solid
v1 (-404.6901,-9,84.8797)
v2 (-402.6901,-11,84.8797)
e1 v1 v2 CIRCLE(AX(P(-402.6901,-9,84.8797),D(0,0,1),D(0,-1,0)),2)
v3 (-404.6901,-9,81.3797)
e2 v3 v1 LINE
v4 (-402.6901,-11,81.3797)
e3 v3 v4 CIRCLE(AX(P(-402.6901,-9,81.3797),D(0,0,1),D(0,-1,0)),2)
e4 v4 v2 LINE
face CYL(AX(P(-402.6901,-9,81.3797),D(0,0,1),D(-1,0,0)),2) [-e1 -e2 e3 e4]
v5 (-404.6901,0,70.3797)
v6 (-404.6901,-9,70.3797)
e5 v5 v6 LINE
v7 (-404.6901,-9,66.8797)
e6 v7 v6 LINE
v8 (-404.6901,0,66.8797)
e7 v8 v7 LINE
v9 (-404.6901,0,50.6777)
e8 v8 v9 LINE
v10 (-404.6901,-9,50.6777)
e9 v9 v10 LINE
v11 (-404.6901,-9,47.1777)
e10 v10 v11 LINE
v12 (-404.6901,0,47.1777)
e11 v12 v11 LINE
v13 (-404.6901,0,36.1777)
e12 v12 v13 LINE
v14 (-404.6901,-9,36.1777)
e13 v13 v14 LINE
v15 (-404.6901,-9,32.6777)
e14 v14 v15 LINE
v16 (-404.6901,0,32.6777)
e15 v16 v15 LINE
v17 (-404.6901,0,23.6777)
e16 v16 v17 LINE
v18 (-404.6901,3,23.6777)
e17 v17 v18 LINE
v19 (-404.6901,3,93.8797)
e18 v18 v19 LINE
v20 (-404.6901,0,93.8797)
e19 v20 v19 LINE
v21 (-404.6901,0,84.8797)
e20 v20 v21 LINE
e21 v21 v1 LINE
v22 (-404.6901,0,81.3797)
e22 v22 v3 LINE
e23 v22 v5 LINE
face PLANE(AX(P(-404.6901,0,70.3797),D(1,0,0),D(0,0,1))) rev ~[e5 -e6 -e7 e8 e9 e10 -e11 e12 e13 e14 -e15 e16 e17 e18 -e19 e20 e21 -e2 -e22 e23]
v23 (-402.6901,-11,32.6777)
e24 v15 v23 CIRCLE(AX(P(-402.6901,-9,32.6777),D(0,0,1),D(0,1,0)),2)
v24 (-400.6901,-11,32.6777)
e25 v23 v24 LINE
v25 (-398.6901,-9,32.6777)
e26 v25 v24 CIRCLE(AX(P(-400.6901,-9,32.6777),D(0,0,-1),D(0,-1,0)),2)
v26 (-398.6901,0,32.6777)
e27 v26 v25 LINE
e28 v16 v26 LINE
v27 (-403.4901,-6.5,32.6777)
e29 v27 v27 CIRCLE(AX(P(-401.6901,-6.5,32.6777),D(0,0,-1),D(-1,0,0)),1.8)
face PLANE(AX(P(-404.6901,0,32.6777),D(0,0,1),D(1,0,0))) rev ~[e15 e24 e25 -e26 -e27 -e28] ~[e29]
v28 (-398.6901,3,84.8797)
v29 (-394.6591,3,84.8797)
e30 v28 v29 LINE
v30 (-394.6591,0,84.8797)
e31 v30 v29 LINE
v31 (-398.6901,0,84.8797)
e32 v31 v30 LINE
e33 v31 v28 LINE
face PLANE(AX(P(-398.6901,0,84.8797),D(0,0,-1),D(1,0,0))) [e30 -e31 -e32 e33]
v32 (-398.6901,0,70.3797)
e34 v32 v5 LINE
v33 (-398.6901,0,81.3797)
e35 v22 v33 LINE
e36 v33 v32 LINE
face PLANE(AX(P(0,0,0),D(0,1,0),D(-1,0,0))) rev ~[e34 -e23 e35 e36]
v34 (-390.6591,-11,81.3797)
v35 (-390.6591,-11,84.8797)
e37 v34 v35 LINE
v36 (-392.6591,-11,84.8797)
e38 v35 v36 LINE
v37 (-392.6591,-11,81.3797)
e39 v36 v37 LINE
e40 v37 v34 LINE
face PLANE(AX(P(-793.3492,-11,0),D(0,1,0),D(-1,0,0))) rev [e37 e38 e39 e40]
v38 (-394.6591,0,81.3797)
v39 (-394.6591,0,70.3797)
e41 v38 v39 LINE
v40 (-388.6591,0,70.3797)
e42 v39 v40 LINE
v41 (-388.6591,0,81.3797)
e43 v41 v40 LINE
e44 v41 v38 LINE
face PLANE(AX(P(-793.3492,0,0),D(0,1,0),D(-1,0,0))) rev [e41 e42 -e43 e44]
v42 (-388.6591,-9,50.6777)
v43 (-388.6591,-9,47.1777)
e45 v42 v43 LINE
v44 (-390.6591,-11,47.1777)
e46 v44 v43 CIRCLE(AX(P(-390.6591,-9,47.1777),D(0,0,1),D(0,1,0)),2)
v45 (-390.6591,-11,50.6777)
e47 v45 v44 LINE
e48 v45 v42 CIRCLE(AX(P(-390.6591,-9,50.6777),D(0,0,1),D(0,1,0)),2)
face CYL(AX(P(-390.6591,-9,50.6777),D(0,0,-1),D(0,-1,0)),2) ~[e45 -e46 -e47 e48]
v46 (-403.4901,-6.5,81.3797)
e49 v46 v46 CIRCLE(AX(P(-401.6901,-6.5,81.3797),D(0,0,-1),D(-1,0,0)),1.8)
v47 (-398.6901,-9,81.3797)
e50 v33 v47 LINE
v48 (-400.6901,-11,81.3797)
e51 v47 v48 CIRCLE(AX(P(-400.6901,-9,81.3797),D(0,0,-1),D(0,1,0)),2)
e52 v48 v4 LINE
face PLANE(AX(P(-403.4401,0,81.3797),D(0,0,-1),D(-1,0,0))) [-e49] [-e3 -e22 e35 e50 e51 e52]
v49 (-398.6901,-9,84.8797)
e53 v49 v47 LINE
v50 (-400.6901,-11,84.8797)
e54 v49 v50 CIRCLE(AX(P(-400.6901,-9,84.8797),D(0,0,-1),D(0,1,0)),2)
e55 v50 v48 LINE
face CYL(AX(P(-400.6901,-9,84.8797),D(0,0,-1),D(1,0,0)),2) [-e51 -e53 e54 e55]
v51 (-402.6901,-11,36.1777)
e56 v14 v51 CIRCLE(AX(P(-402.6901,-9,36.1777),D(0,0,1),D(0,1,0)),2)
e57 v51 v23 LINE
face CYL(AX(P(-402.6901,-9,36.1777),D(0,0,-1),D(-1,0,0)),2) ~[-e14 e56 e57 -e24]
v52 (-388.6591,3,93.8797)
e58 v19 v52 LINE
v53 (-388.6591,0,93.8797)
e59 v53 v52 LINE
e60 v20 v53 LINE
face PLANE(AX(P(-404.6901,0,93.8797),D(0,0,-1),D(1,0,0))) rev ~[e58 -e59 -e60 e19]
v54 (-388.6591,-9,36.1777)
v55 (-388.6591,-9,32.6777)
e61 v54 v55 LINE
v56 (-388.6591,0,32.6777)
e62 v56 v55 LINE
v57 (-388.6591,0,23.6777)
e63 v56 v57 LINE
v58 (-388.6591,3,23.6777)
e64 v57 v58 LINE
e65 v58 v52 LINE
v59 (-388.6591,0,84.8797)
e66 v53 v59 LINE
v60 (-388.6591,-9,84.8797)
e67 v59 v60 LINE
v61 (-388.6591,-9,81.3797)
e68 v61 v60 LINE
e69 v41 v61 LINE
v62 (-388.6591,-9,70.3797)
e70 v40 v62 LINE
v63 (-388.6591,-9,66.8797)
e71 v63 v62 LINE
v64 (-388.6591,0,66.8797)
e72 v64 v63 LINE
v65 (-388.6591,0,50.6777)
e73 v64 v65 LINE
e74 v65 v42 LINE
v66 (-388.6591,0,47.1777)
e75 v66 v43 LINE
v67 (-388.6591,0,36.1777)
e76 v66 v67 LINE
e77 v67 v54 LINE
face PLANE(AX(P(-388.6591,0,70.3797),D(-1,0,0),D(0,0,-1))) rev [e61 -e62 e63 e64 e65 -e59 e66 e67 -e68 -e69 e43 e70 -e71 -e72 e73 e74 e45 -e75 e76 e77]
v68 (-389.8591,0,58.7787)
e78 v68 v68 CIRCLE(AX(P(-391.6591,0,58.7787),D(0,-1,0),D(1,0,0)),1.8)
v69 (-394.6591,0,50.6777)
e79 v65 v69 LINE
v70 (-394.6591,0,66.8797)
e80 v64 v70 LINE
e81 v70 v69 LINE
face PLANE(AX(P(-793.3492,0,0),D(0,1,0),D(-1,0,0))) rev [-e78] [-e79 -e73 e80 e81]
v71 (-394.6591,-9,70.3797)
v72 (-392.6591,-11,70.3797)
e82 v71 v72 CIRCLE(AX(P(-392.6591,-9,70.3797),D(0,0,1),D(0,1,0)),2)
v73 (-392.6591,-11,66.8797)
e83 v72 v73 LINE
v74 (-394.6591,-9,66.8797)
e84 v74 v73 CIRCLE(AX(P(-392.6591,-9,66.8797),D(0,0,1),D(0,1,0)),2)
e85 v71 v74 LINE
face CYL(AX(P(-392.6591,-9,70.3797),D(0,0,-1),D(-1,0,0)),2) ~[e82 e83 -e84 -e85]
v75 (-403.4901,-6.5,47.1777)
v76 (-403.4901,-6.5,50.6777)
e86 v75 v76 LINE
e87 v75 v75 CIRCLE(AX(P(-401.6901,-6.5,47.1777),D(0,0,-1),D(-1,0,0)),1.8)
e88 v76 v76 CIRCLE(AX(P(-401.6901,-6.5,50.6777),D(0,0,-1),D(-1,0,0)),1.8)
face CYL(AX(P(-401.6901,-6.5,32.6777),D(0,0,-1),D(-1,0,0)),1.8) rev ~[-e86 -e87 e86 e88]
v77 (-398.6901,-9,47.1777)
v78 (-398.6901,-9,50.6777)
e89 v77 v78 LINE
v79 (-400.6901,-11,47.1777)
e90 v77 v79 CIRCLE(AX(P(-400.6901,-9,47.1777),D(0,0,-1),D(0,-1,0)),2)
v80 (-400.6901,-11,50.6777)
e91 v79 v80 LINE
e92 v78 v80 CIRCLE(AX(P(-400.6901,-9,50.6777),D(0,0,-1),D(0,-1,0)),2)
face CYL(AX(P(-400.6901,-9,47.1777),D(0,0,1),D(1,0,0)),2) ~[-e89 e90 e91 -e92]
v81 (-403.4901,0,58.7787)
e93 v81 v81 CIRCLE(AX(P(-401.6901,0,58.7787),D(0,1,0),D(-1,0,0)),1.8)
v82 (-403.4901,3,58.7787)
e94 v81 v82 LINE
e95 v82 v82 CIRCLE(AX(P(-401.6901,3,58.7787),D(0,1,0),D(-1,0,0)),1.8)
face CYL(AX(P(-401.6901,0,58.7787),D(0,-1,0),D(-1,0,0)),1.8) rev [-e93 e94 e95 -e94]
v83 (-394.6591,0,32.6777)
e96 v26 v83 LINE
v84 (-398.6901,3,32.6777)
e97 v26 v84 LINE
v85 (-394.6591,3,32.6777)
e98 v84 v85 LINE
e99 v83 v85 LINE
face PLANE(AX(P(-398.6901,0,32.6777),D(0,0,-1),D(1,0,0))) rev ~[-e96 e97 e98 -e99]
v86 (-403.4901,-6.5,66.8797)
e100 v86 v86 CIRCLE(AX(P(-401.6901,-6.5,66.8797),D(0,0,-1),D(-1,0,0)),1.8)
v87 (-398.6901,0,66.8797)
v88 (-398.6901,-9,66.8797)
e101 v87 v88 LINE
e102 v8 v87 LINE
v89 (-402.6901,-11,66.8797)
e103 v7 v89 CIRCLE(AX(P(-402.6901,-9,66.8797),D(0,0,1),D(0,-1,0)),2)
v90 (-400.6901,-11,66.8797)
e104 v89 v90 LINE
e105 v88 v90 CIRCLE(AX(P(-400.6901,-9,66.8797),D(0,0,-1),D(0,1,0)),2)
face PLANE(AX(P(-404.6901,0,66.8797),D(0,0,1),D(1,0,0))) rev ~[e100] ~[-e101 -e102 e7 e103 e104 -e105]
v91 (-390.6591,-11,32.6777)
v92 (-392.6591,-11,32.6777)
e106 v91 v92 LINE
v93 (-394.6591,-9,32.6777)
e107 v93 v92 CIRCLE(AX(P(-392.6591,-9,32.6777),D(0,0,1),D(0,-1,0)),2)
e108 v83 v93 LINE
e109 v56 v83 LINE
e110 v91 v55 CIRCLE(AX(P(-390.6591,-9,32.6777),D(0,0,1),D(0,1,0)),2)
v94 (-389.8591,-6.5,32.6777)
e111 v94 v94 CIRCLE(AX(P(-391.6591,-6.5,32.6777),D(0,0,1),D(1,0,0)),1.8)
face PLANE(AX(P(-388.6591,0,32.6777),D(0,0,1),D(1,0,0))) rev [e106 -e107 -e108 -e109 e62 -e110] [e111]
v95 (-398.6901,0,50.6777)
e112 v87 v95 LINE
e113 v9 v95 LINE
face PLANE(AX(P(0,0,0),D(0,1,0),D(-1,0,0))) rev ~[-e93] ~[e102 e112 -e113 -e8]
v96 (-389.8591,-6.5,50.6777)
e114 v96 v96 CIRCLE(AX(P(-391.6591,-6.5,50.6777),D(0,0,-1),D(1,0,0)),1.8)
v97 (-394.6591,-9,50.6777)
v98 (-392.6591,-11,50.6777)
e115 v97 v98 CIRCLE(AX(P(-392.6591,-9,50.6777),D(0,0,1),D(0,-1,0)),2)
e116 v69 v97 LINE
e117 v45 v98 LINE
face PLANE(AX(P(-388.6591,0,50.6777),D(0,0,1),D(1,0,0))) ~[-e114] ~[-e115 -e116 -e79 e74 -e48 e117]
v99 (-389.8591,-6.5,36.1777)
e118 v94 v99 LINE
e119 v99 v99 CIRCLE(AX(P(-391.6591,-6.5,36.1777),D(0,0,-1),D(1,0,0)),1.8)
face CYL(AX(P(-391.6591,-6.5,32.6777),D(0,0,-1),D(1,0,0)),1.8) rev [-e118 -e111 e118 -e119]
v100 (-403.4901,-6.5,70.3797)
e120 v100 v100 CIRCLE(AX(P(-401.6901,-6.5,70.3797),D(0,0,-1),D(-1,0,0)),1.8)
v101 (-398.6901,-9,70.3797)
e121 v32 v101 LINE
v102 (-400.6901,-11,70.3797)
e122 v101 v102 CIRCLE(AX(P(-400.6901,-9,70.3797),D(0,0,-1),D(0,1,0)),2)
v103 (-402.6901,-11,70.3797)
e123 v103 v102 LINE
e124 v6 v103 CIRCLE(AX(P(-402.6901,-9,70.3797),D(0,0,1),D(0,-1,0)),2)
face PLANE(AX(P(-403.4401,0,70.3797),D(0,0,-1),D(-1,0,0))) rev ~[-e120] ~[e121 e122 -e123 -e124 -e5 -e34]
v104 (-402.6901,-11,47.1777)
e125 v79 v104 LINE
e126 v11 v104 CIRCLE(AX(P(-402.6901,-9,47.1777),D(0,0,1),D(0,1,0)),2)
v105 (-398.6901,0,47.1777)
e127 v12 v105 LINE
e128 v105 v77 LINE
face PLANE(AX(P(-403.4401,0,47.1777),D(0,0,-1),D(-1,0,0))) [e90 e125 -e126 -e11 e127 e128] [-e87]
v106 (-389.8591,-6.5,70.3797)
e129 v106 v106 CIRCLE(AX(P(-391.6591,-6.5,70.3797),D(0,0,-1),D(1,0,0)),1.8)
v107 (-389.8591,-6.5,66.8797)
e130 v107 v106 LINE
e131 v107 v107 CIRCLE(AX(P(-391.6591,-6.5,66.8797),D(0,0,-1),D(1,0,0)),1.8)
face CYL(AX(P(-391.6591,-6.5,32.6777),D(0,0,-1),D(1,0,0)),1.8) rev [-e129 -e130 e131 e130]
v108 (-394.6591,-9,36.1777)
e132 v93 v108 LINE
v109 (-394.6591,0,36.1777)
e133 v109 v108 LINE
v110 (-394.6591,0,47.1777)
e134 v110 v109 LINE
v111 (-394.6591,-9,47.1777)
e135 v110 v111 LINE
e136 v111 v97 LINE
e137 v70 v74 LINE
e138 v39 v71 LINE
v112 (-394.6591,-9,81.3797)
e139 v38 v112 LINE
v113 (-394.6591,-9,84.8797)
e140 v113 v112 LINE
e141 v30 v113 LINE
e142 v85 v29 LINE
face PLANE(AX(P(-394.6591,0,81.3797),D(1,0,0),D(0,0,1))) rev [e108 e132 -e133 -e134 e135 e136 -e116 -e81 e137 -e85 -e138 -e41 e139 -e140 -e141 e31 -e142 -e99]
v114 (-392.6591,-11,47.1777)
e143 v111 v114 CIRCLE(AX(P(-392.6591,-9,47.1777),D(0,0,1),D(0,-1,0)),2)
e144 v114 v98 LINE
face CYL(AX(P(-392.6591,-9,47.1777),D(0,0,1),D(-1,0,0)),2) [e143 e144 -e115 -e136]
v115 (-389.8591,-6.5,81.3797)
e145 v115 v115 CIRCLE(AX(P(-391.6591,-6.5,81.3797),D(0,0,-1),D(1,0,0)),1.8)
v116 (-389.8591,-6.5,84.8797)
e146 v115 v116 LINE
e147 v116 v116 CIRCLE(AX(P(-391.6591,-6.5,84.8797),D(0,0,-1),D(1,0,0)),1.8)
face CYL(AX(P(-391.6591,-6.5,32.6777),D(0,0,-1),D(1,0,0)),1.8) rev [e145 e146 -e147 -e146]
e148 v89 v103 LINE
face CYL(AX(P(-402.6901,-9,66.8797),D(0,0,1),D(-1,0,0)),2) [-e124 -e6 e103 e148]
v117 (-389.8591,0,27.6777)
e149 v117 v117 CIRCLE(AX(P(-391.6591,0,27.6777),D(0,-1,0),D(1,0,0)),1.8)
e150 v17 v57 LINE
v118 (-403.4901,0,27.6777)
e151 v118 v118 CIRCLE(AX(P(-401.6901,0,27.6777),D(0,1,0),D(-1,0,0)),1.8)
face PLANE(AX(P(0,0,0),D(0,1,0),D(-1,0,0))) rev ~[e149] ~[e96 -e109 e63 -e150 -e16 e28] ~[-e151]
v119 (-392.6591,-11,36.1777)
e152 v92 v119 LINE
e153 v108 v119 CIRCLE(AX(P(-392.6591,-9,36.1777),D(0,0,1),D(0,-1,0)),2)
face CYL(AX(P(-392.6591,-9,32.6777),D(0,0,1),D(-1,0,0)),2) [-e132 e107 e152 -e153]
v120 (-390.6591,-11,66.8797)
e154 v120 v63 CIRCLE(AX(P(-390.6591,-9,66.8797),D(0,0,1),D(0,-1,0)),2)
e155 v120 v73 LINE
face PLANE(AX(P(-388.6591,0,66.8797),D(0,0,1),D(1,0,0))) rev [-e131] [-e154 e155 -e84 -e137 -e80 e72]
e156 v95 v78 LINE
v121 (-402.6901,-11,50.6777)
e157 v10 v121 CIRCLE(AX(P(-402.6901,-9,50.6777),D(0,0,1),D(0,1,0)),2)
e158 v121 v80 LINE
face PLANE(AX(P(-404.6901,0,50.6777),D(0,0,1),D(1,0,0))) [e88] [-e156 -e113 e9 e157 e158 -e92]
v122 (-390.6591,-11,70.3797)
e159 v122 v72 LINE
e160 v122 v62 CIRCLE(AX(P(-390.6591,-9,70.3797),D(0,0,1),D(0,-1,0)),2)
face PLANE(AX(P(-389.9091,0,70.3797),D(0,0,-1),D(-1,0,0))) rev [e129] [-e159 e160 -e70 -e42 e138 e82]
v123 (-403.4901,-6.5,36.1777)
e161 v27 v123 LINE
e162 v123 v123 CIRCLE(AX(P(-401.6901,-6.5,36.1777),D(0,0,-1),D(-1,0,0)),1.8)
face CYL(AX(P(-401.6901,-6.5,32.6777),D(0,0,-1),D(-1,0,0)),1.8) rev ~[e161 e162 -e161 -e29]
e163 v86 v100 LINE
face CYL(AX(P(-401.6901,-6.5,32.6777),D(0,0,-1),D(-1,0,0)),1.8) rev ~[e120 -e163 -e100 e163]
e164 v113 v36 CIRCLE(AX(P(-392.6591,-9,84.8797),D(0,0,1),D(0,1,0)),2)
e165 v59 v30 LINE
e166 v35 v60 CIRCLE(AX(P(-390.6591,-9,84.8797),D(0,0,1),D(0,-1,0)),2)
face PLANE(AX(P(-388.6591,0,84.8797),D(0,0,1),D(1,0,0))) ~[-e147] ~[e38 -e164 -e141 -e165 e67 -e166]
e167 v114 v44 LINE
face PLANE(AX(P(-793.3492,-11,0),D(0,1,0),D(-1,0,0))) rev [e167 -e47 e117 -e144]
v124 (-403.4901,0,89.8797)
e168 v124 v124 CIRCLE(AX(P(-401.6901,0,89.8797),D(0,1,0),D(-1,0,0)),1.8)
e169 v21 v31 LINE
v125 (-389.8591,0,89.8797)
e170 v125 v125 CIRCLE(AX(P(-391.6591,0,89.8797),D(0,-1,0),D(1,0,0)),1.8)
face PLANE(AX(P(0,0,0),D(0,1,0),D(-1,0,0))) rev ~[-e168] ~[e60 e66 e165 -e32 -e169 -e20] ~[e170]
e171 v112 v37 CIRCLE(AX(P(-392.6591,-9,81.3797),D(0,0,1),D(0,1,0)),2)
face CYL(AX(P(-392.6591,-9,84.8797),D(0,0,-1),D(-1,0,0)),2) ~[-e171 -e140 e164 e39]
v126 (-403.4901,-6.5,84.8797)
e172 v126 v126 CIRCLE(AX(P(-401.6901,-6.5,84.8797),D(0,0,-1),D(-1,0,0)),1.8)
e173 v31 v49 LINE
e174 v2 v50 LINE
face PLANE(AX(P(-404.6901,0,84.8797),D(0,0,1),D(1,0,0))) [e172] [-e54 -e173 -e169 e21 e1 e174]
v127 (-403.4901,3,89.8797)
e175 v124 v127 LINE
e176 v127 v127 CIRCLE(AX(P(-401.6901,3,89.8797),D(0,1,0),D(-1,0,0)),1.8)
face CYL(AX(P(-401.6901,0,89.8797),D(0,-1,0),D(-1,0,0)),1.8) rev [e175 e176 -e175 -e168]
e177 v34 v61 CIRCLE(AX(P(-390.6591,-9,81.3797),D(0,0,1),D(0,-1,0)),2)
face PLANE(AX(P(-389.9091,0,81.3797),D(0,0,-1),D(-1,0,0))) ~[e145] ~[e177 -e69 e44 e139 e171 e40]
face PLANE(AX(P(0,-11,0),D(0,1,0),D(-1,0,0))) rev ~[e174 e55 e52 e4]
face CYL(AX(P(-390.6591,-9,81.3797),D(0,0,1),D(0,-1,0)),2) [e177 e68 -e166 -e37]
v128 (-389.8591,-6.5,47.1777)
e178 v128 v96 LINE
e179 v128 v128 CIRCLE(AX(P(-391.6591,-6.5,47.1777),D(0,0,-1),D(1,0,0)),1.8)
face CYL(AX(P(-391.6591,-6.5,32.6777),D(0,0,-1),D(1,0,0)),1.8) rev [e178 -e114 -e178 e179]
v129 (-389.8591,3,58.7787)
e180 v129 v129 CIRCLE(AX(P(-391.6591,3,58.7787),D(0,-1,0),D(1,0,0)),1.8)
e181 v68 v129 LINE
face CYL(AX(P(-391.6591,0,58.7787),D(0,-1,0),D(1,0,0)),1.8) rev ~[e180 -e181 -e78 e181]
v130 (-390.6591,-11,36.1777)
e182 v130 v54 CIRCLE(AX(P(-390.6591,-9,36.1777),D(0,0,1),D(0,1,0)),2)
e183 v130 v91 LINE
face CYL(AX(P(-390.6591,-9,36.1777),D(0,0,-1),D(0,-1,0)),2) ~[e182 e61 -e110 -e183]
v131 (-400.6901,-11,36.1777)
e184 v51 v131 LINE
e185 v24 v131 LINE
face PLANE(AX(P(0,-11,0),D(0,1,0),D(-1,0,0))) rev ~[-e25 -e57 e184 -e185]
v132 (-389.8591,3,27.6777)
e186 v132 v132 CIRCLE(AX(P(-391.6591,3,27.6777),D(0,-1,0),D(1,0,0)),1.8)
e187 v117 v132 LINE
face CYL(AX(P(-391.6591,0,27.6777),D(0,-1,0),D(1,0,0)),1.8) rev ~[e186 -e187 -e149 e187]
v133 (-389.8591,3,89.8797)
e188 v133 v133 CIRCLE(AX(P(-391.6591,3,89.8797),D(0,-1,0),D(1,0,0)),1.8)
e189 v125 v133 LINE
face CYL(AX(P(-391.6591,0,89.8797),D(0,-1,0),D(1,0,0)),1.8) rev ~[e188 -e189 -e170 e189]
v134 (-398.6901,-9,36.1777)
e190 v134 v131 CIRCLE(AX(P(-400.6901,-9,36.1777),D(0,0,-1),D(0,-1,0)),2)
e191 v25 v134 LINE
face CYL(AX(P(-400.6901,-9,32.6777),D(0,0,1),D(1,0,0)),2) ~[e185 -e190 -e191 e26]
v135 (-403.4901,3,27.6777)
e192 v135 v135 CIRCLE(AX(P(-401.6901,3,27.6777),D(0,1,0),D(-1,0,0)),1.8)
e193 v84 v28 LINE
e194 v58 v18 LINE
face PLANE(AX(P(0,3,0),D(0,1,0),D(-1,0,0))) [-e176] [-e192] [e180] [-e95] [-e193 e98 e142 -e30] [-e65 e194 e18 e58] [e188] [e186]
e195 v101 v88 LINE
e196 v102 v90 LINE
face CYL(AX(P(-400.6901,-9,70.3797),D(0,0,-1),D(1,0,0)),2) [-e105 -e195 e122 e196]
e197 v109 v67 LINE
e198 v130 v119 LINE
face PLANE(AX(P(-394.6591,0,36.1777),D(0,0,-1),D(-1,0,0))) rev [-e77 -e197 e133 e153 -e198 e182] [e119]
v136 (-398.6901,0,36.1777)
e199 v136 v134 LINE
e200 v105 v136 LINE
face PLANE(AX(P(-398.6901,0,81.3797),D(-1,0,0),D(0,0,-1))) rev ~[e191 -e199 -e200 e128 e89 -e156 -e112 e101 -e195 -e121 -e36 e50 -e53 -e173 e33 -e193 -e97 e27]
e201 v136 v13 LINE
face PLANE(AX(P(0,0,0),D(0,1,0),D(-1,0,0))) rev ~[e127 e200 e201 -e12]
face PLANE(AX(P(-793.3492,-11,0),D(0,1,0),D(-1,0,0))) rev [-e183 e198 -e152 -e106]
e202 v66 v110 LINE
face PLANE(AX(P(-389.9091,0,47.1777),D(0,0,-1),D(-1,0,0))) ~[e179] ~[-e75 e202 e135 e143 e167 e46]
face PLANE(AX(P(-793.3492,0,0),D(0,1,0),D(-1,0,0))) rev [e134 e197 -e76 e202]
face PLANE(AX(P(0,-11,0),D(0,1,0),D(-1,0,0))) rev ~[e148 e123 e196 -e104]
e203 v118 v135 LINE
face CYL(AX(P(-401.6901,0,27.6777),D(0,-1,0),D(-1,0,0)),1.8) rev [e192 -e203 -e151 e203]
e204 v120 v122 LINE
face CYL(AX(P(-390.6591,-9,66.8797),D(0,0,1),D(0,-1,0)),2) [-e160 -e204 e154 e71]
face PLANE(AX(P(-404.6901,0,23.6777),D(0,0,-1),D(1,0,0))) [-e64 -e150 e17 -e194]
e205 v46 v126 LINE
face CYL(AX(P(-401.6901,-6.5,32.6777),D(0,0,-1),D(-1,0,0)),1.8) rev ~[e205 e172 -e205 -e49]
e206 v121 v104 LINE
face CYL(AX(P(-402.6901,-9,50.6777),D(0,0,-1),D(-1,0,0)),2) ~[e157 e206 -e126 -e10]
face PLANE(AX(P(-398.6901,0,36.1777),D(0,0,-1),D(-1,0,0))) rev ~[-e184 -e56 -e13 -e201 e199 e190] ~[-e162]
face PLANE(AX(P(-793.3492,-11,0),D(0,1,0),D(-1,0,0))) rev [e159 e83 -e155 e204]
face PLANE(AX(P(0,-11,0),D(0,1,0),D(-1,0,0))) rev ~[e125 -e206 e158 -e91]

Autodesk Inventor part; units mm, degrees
ref_plane "YZ Plane" through (0, 0, 0) normal (1, 0, 0) x (0, 1, 0)
ref_plane "XZ Plane" through (0, 0, 0) normal (0, 1, 0) x (-1, 0, 0)
sketch "草圖1" plane through (0, 0, 0) normal (0, 1, 0) x (-1, 0, 0)
  line L0 (403.4401, 81.3797) -> (399.9401, 81.3797) construction
  line L1 (399.9401, 81.3797) -> (399.9401, 70.3797) construction
  line L2 (399.9401, 70.3797) -> (403.4401, 70.3797) construction
  line L3 (403.4401, 70.3797) -> (403.4401, 81.3797) construction
  line L4 (403.4401, 81.3797) -> (399.9401, 70.3797) construction
  line L5 (399.9401, 81.3797) -> (403.4401, 70.3797) construction
  line L6 (403.4401, 70.3797) -> (404.6901, 70.3797)
  line L7 (398.6901, 70.3797) -> (403.4401, 70.3797)
  line L8 (403.4401, 81.3797) -> (404.6901, 81.3797)
  line L9 (404.6901, 84.8797) -> (398.6901, 84.8797)
  line L10 (398.6901, 81.3797) -> (403.4401, 81.3797)
  line L11 (404.6901, 93.8797) -> (398.6901, 93.8797)
  line L12 (398.6901, 93.8797) -> (398.6901, 57.8797)
  line L13 (404.6901, 57.8797) -> (404.6901, 93.8797)
  line L14 (404.6901, 93.8797) -> (398.6901, 57.8797) construction
  line L15 (398.6901, 93.8797) -> (404.6901, 57.8797) construction
  line L16 (401.6901, 84.8797) -> (401.6901, 89.8797) construction
  circle A0 centre (401.6901, 89.8797) radius 1.8
  line L17 (401.6901, 75.8797) -> (401.6901, 41.6777) construction
  circle A1 centre (401.6901, 58.7787) radius 1.8
  line L18 (404.6901, 66.8797) -> (398.6901, 66.8797)
  line L19 (403.4401, 36.1777) -> (399.9401, 36.1777) construction
  line L20 (399.9401, 36.1777) -> (399.9401, 47.1777) construction
  line L21 (399.9401, 47.1777) -> (403.4401, 47.1777) construction
  line L22 (403.4401, 47.1777) -> (403.4401, 36.1777) construction
  line L23 (403.4401, 36.1777) -> (399.9401, 47.1777) construction
  line L24 (399.9401, 36.1777) -> (403.4401, 47.1777) construction
  line L25 (403.4401, 47.1777) -> (404.6901, 47.1777)
  line L26 (398.6901, 47.1777) -> (403.4401, 47.1777)
  line L27 (403.4401, 36.1777) -> (404.6901, 36.1777)
  line L28 (404.6901, 32.6777) -> (398.6901, 32.6777)
  line L29 (398.6901, 36.1777) -> (403.4401, 36.1777)
  line L30 (404.6901, 23.6777) -> (398.6901, 23.6777)
  line L31 (398.6901, 23.6777) -> (398.6901, 59.6777)
  line L32 (404.6901, 59.6777) -> (404.6901, 23.6777)
  line L33 (404.6901, 23.6777) -> (398.6901, 59.6777) construction
  line L34 (398.6901, 23.6777) -> (404.6901, 59.6777) construction
  line L35 (401.6901, 32.6777) -> (401.6901, 27.6777) construction
  circle A2 centre (401.6901, 27.6777) radius 1.8
  circle A3 centre (401.6901, 58.7787) radius 1.8
  line L36 (404.6901, 50.6777) -> (398.6901, 50.6777)
  line L37 (404.6901, 66.8797) -> (398.6901, 66.8797)
  line L38 (398.6901, 66.8797) -> (398.6901, 50.6777)
  line L39 (398.6901, 50.6777) -> (404.6901, 50.6777)
  line L40 (404.6901, 50.6777) -> (404.6901, 66.8797)
  line L41 (401.6901, 58.7787) -> (391.6591, 58.7787) construction
  line L42 (396.6746, 58.7787) -> (396.6746, 63.5433) construction
  line L43 (391.6591, 58.7787) -> (401.6901, 58.7787) construction
  line L44 (398.6901, 66.8797) -> (394.6591, 66.8797)
  line L45 (398.6901, 50.6777) -> (394.6591, 50.6777)
  point P0 (0, 0)
  point P1 (398.1901, 70.3797)
  point P2 (398.1901, 81.3797)
  point P3 (398.1901, 47.1777)
  point P4 (398.1901, 36.1777)
  dimension "d8" = 11
  dimension "d34" = 36
  dimension "d35" = 5
  dimension "d37" = 3.6
  dimension "d49" = 34.202
  dimension "d50" = 3.6
  dimension "d61" = 10.031
extrude "擠出8" add sketch "草圖1" along normal blind 3
extrude "擠出9" add sketch "草圖1" against normal blind 11 contours L6 L13 L18 L12 L7 | L8 L10 L12 L9 L13 | L32 L25 L26 L31 L36 | L32 L28 L31 L29 L27
fillet "圓角4" radius 2 8 edges at (-404.6901, -11, 34.4277) (-398.6901, -11, 34.4277) (-404.6901, -11, 48.9277) (-398.6901, -11, 48.9277) (-404.6901, -11, 68.6297) (-398.6901, -11, 68.6297) (-398.6901, -11, 83.1297) (-404.6901, -11, 83.1297)
sketch "草圖4" plane through (-398.6901, 0, 32.6777) normal (0, 0, -1) x (-1, 0, 0)
  line L0 (0, 0) -> (6, 0) construction
  line L1 (6, 0) -> (3, 0) construction
  line L2 (3, 0) -> (3, -6.5) construction
  circle A0 centre (3, -6.5) radius 1.8
  point P0 (-398.6901, 0)
  dimension "d57" = 6.5
  dimension "d58" = 3.6
extrude "擠出10" cut sketch "草圖4" against normal through all
ref_plane "工作平面4" through (-396.6746, 0, 58.7787) normal (1, 0, 0) x (0, 0, -1)
mirror "鏡射2" about plane through (-396.6746, 0, 58.7787) normal (1, 0, 0) of "擠出8", "擠出9", "擠出10", "圓角4"
sketch "草圖8" plane through (0, 0, 0) normal (0, 1, 0) x (-1, 0, 0)
  line L0 (398.6901, 32.6777) -> (398.6901, 23.6777) projected
  line L1 (394.6591, 32.6777) -> (394.6591, 23.6777) projected
  line L2 (398.6901, 93.8797) -> (398.6901, 84.8797) projected
  line L3 (394.6591, 93.8797) -> (394.6591, 84.8797) projected
  line L4 (404.6901, 93.8797) -> (398.6901, 93.8797) projected
  line L5 (388.6591, 93.8797) -> (394.6591, 93.8797) projected
  line L6 (398.6901, 93.8797) -> (394.6591, 93.8797)
  line L7 (398.6901, 84.8797) -> (394.6591, 84.8797)
  line L8 (398.6901, 32.6777) -> (394.6591, 32.6777)
  line L9 (398.6901, 23.6777) -> (394.6591, 23.6777)
  point P0 (0, 0)
extrude "擠出13" add sketch "草圖8" along normal blind 3
properties part number "a臂鎖"
